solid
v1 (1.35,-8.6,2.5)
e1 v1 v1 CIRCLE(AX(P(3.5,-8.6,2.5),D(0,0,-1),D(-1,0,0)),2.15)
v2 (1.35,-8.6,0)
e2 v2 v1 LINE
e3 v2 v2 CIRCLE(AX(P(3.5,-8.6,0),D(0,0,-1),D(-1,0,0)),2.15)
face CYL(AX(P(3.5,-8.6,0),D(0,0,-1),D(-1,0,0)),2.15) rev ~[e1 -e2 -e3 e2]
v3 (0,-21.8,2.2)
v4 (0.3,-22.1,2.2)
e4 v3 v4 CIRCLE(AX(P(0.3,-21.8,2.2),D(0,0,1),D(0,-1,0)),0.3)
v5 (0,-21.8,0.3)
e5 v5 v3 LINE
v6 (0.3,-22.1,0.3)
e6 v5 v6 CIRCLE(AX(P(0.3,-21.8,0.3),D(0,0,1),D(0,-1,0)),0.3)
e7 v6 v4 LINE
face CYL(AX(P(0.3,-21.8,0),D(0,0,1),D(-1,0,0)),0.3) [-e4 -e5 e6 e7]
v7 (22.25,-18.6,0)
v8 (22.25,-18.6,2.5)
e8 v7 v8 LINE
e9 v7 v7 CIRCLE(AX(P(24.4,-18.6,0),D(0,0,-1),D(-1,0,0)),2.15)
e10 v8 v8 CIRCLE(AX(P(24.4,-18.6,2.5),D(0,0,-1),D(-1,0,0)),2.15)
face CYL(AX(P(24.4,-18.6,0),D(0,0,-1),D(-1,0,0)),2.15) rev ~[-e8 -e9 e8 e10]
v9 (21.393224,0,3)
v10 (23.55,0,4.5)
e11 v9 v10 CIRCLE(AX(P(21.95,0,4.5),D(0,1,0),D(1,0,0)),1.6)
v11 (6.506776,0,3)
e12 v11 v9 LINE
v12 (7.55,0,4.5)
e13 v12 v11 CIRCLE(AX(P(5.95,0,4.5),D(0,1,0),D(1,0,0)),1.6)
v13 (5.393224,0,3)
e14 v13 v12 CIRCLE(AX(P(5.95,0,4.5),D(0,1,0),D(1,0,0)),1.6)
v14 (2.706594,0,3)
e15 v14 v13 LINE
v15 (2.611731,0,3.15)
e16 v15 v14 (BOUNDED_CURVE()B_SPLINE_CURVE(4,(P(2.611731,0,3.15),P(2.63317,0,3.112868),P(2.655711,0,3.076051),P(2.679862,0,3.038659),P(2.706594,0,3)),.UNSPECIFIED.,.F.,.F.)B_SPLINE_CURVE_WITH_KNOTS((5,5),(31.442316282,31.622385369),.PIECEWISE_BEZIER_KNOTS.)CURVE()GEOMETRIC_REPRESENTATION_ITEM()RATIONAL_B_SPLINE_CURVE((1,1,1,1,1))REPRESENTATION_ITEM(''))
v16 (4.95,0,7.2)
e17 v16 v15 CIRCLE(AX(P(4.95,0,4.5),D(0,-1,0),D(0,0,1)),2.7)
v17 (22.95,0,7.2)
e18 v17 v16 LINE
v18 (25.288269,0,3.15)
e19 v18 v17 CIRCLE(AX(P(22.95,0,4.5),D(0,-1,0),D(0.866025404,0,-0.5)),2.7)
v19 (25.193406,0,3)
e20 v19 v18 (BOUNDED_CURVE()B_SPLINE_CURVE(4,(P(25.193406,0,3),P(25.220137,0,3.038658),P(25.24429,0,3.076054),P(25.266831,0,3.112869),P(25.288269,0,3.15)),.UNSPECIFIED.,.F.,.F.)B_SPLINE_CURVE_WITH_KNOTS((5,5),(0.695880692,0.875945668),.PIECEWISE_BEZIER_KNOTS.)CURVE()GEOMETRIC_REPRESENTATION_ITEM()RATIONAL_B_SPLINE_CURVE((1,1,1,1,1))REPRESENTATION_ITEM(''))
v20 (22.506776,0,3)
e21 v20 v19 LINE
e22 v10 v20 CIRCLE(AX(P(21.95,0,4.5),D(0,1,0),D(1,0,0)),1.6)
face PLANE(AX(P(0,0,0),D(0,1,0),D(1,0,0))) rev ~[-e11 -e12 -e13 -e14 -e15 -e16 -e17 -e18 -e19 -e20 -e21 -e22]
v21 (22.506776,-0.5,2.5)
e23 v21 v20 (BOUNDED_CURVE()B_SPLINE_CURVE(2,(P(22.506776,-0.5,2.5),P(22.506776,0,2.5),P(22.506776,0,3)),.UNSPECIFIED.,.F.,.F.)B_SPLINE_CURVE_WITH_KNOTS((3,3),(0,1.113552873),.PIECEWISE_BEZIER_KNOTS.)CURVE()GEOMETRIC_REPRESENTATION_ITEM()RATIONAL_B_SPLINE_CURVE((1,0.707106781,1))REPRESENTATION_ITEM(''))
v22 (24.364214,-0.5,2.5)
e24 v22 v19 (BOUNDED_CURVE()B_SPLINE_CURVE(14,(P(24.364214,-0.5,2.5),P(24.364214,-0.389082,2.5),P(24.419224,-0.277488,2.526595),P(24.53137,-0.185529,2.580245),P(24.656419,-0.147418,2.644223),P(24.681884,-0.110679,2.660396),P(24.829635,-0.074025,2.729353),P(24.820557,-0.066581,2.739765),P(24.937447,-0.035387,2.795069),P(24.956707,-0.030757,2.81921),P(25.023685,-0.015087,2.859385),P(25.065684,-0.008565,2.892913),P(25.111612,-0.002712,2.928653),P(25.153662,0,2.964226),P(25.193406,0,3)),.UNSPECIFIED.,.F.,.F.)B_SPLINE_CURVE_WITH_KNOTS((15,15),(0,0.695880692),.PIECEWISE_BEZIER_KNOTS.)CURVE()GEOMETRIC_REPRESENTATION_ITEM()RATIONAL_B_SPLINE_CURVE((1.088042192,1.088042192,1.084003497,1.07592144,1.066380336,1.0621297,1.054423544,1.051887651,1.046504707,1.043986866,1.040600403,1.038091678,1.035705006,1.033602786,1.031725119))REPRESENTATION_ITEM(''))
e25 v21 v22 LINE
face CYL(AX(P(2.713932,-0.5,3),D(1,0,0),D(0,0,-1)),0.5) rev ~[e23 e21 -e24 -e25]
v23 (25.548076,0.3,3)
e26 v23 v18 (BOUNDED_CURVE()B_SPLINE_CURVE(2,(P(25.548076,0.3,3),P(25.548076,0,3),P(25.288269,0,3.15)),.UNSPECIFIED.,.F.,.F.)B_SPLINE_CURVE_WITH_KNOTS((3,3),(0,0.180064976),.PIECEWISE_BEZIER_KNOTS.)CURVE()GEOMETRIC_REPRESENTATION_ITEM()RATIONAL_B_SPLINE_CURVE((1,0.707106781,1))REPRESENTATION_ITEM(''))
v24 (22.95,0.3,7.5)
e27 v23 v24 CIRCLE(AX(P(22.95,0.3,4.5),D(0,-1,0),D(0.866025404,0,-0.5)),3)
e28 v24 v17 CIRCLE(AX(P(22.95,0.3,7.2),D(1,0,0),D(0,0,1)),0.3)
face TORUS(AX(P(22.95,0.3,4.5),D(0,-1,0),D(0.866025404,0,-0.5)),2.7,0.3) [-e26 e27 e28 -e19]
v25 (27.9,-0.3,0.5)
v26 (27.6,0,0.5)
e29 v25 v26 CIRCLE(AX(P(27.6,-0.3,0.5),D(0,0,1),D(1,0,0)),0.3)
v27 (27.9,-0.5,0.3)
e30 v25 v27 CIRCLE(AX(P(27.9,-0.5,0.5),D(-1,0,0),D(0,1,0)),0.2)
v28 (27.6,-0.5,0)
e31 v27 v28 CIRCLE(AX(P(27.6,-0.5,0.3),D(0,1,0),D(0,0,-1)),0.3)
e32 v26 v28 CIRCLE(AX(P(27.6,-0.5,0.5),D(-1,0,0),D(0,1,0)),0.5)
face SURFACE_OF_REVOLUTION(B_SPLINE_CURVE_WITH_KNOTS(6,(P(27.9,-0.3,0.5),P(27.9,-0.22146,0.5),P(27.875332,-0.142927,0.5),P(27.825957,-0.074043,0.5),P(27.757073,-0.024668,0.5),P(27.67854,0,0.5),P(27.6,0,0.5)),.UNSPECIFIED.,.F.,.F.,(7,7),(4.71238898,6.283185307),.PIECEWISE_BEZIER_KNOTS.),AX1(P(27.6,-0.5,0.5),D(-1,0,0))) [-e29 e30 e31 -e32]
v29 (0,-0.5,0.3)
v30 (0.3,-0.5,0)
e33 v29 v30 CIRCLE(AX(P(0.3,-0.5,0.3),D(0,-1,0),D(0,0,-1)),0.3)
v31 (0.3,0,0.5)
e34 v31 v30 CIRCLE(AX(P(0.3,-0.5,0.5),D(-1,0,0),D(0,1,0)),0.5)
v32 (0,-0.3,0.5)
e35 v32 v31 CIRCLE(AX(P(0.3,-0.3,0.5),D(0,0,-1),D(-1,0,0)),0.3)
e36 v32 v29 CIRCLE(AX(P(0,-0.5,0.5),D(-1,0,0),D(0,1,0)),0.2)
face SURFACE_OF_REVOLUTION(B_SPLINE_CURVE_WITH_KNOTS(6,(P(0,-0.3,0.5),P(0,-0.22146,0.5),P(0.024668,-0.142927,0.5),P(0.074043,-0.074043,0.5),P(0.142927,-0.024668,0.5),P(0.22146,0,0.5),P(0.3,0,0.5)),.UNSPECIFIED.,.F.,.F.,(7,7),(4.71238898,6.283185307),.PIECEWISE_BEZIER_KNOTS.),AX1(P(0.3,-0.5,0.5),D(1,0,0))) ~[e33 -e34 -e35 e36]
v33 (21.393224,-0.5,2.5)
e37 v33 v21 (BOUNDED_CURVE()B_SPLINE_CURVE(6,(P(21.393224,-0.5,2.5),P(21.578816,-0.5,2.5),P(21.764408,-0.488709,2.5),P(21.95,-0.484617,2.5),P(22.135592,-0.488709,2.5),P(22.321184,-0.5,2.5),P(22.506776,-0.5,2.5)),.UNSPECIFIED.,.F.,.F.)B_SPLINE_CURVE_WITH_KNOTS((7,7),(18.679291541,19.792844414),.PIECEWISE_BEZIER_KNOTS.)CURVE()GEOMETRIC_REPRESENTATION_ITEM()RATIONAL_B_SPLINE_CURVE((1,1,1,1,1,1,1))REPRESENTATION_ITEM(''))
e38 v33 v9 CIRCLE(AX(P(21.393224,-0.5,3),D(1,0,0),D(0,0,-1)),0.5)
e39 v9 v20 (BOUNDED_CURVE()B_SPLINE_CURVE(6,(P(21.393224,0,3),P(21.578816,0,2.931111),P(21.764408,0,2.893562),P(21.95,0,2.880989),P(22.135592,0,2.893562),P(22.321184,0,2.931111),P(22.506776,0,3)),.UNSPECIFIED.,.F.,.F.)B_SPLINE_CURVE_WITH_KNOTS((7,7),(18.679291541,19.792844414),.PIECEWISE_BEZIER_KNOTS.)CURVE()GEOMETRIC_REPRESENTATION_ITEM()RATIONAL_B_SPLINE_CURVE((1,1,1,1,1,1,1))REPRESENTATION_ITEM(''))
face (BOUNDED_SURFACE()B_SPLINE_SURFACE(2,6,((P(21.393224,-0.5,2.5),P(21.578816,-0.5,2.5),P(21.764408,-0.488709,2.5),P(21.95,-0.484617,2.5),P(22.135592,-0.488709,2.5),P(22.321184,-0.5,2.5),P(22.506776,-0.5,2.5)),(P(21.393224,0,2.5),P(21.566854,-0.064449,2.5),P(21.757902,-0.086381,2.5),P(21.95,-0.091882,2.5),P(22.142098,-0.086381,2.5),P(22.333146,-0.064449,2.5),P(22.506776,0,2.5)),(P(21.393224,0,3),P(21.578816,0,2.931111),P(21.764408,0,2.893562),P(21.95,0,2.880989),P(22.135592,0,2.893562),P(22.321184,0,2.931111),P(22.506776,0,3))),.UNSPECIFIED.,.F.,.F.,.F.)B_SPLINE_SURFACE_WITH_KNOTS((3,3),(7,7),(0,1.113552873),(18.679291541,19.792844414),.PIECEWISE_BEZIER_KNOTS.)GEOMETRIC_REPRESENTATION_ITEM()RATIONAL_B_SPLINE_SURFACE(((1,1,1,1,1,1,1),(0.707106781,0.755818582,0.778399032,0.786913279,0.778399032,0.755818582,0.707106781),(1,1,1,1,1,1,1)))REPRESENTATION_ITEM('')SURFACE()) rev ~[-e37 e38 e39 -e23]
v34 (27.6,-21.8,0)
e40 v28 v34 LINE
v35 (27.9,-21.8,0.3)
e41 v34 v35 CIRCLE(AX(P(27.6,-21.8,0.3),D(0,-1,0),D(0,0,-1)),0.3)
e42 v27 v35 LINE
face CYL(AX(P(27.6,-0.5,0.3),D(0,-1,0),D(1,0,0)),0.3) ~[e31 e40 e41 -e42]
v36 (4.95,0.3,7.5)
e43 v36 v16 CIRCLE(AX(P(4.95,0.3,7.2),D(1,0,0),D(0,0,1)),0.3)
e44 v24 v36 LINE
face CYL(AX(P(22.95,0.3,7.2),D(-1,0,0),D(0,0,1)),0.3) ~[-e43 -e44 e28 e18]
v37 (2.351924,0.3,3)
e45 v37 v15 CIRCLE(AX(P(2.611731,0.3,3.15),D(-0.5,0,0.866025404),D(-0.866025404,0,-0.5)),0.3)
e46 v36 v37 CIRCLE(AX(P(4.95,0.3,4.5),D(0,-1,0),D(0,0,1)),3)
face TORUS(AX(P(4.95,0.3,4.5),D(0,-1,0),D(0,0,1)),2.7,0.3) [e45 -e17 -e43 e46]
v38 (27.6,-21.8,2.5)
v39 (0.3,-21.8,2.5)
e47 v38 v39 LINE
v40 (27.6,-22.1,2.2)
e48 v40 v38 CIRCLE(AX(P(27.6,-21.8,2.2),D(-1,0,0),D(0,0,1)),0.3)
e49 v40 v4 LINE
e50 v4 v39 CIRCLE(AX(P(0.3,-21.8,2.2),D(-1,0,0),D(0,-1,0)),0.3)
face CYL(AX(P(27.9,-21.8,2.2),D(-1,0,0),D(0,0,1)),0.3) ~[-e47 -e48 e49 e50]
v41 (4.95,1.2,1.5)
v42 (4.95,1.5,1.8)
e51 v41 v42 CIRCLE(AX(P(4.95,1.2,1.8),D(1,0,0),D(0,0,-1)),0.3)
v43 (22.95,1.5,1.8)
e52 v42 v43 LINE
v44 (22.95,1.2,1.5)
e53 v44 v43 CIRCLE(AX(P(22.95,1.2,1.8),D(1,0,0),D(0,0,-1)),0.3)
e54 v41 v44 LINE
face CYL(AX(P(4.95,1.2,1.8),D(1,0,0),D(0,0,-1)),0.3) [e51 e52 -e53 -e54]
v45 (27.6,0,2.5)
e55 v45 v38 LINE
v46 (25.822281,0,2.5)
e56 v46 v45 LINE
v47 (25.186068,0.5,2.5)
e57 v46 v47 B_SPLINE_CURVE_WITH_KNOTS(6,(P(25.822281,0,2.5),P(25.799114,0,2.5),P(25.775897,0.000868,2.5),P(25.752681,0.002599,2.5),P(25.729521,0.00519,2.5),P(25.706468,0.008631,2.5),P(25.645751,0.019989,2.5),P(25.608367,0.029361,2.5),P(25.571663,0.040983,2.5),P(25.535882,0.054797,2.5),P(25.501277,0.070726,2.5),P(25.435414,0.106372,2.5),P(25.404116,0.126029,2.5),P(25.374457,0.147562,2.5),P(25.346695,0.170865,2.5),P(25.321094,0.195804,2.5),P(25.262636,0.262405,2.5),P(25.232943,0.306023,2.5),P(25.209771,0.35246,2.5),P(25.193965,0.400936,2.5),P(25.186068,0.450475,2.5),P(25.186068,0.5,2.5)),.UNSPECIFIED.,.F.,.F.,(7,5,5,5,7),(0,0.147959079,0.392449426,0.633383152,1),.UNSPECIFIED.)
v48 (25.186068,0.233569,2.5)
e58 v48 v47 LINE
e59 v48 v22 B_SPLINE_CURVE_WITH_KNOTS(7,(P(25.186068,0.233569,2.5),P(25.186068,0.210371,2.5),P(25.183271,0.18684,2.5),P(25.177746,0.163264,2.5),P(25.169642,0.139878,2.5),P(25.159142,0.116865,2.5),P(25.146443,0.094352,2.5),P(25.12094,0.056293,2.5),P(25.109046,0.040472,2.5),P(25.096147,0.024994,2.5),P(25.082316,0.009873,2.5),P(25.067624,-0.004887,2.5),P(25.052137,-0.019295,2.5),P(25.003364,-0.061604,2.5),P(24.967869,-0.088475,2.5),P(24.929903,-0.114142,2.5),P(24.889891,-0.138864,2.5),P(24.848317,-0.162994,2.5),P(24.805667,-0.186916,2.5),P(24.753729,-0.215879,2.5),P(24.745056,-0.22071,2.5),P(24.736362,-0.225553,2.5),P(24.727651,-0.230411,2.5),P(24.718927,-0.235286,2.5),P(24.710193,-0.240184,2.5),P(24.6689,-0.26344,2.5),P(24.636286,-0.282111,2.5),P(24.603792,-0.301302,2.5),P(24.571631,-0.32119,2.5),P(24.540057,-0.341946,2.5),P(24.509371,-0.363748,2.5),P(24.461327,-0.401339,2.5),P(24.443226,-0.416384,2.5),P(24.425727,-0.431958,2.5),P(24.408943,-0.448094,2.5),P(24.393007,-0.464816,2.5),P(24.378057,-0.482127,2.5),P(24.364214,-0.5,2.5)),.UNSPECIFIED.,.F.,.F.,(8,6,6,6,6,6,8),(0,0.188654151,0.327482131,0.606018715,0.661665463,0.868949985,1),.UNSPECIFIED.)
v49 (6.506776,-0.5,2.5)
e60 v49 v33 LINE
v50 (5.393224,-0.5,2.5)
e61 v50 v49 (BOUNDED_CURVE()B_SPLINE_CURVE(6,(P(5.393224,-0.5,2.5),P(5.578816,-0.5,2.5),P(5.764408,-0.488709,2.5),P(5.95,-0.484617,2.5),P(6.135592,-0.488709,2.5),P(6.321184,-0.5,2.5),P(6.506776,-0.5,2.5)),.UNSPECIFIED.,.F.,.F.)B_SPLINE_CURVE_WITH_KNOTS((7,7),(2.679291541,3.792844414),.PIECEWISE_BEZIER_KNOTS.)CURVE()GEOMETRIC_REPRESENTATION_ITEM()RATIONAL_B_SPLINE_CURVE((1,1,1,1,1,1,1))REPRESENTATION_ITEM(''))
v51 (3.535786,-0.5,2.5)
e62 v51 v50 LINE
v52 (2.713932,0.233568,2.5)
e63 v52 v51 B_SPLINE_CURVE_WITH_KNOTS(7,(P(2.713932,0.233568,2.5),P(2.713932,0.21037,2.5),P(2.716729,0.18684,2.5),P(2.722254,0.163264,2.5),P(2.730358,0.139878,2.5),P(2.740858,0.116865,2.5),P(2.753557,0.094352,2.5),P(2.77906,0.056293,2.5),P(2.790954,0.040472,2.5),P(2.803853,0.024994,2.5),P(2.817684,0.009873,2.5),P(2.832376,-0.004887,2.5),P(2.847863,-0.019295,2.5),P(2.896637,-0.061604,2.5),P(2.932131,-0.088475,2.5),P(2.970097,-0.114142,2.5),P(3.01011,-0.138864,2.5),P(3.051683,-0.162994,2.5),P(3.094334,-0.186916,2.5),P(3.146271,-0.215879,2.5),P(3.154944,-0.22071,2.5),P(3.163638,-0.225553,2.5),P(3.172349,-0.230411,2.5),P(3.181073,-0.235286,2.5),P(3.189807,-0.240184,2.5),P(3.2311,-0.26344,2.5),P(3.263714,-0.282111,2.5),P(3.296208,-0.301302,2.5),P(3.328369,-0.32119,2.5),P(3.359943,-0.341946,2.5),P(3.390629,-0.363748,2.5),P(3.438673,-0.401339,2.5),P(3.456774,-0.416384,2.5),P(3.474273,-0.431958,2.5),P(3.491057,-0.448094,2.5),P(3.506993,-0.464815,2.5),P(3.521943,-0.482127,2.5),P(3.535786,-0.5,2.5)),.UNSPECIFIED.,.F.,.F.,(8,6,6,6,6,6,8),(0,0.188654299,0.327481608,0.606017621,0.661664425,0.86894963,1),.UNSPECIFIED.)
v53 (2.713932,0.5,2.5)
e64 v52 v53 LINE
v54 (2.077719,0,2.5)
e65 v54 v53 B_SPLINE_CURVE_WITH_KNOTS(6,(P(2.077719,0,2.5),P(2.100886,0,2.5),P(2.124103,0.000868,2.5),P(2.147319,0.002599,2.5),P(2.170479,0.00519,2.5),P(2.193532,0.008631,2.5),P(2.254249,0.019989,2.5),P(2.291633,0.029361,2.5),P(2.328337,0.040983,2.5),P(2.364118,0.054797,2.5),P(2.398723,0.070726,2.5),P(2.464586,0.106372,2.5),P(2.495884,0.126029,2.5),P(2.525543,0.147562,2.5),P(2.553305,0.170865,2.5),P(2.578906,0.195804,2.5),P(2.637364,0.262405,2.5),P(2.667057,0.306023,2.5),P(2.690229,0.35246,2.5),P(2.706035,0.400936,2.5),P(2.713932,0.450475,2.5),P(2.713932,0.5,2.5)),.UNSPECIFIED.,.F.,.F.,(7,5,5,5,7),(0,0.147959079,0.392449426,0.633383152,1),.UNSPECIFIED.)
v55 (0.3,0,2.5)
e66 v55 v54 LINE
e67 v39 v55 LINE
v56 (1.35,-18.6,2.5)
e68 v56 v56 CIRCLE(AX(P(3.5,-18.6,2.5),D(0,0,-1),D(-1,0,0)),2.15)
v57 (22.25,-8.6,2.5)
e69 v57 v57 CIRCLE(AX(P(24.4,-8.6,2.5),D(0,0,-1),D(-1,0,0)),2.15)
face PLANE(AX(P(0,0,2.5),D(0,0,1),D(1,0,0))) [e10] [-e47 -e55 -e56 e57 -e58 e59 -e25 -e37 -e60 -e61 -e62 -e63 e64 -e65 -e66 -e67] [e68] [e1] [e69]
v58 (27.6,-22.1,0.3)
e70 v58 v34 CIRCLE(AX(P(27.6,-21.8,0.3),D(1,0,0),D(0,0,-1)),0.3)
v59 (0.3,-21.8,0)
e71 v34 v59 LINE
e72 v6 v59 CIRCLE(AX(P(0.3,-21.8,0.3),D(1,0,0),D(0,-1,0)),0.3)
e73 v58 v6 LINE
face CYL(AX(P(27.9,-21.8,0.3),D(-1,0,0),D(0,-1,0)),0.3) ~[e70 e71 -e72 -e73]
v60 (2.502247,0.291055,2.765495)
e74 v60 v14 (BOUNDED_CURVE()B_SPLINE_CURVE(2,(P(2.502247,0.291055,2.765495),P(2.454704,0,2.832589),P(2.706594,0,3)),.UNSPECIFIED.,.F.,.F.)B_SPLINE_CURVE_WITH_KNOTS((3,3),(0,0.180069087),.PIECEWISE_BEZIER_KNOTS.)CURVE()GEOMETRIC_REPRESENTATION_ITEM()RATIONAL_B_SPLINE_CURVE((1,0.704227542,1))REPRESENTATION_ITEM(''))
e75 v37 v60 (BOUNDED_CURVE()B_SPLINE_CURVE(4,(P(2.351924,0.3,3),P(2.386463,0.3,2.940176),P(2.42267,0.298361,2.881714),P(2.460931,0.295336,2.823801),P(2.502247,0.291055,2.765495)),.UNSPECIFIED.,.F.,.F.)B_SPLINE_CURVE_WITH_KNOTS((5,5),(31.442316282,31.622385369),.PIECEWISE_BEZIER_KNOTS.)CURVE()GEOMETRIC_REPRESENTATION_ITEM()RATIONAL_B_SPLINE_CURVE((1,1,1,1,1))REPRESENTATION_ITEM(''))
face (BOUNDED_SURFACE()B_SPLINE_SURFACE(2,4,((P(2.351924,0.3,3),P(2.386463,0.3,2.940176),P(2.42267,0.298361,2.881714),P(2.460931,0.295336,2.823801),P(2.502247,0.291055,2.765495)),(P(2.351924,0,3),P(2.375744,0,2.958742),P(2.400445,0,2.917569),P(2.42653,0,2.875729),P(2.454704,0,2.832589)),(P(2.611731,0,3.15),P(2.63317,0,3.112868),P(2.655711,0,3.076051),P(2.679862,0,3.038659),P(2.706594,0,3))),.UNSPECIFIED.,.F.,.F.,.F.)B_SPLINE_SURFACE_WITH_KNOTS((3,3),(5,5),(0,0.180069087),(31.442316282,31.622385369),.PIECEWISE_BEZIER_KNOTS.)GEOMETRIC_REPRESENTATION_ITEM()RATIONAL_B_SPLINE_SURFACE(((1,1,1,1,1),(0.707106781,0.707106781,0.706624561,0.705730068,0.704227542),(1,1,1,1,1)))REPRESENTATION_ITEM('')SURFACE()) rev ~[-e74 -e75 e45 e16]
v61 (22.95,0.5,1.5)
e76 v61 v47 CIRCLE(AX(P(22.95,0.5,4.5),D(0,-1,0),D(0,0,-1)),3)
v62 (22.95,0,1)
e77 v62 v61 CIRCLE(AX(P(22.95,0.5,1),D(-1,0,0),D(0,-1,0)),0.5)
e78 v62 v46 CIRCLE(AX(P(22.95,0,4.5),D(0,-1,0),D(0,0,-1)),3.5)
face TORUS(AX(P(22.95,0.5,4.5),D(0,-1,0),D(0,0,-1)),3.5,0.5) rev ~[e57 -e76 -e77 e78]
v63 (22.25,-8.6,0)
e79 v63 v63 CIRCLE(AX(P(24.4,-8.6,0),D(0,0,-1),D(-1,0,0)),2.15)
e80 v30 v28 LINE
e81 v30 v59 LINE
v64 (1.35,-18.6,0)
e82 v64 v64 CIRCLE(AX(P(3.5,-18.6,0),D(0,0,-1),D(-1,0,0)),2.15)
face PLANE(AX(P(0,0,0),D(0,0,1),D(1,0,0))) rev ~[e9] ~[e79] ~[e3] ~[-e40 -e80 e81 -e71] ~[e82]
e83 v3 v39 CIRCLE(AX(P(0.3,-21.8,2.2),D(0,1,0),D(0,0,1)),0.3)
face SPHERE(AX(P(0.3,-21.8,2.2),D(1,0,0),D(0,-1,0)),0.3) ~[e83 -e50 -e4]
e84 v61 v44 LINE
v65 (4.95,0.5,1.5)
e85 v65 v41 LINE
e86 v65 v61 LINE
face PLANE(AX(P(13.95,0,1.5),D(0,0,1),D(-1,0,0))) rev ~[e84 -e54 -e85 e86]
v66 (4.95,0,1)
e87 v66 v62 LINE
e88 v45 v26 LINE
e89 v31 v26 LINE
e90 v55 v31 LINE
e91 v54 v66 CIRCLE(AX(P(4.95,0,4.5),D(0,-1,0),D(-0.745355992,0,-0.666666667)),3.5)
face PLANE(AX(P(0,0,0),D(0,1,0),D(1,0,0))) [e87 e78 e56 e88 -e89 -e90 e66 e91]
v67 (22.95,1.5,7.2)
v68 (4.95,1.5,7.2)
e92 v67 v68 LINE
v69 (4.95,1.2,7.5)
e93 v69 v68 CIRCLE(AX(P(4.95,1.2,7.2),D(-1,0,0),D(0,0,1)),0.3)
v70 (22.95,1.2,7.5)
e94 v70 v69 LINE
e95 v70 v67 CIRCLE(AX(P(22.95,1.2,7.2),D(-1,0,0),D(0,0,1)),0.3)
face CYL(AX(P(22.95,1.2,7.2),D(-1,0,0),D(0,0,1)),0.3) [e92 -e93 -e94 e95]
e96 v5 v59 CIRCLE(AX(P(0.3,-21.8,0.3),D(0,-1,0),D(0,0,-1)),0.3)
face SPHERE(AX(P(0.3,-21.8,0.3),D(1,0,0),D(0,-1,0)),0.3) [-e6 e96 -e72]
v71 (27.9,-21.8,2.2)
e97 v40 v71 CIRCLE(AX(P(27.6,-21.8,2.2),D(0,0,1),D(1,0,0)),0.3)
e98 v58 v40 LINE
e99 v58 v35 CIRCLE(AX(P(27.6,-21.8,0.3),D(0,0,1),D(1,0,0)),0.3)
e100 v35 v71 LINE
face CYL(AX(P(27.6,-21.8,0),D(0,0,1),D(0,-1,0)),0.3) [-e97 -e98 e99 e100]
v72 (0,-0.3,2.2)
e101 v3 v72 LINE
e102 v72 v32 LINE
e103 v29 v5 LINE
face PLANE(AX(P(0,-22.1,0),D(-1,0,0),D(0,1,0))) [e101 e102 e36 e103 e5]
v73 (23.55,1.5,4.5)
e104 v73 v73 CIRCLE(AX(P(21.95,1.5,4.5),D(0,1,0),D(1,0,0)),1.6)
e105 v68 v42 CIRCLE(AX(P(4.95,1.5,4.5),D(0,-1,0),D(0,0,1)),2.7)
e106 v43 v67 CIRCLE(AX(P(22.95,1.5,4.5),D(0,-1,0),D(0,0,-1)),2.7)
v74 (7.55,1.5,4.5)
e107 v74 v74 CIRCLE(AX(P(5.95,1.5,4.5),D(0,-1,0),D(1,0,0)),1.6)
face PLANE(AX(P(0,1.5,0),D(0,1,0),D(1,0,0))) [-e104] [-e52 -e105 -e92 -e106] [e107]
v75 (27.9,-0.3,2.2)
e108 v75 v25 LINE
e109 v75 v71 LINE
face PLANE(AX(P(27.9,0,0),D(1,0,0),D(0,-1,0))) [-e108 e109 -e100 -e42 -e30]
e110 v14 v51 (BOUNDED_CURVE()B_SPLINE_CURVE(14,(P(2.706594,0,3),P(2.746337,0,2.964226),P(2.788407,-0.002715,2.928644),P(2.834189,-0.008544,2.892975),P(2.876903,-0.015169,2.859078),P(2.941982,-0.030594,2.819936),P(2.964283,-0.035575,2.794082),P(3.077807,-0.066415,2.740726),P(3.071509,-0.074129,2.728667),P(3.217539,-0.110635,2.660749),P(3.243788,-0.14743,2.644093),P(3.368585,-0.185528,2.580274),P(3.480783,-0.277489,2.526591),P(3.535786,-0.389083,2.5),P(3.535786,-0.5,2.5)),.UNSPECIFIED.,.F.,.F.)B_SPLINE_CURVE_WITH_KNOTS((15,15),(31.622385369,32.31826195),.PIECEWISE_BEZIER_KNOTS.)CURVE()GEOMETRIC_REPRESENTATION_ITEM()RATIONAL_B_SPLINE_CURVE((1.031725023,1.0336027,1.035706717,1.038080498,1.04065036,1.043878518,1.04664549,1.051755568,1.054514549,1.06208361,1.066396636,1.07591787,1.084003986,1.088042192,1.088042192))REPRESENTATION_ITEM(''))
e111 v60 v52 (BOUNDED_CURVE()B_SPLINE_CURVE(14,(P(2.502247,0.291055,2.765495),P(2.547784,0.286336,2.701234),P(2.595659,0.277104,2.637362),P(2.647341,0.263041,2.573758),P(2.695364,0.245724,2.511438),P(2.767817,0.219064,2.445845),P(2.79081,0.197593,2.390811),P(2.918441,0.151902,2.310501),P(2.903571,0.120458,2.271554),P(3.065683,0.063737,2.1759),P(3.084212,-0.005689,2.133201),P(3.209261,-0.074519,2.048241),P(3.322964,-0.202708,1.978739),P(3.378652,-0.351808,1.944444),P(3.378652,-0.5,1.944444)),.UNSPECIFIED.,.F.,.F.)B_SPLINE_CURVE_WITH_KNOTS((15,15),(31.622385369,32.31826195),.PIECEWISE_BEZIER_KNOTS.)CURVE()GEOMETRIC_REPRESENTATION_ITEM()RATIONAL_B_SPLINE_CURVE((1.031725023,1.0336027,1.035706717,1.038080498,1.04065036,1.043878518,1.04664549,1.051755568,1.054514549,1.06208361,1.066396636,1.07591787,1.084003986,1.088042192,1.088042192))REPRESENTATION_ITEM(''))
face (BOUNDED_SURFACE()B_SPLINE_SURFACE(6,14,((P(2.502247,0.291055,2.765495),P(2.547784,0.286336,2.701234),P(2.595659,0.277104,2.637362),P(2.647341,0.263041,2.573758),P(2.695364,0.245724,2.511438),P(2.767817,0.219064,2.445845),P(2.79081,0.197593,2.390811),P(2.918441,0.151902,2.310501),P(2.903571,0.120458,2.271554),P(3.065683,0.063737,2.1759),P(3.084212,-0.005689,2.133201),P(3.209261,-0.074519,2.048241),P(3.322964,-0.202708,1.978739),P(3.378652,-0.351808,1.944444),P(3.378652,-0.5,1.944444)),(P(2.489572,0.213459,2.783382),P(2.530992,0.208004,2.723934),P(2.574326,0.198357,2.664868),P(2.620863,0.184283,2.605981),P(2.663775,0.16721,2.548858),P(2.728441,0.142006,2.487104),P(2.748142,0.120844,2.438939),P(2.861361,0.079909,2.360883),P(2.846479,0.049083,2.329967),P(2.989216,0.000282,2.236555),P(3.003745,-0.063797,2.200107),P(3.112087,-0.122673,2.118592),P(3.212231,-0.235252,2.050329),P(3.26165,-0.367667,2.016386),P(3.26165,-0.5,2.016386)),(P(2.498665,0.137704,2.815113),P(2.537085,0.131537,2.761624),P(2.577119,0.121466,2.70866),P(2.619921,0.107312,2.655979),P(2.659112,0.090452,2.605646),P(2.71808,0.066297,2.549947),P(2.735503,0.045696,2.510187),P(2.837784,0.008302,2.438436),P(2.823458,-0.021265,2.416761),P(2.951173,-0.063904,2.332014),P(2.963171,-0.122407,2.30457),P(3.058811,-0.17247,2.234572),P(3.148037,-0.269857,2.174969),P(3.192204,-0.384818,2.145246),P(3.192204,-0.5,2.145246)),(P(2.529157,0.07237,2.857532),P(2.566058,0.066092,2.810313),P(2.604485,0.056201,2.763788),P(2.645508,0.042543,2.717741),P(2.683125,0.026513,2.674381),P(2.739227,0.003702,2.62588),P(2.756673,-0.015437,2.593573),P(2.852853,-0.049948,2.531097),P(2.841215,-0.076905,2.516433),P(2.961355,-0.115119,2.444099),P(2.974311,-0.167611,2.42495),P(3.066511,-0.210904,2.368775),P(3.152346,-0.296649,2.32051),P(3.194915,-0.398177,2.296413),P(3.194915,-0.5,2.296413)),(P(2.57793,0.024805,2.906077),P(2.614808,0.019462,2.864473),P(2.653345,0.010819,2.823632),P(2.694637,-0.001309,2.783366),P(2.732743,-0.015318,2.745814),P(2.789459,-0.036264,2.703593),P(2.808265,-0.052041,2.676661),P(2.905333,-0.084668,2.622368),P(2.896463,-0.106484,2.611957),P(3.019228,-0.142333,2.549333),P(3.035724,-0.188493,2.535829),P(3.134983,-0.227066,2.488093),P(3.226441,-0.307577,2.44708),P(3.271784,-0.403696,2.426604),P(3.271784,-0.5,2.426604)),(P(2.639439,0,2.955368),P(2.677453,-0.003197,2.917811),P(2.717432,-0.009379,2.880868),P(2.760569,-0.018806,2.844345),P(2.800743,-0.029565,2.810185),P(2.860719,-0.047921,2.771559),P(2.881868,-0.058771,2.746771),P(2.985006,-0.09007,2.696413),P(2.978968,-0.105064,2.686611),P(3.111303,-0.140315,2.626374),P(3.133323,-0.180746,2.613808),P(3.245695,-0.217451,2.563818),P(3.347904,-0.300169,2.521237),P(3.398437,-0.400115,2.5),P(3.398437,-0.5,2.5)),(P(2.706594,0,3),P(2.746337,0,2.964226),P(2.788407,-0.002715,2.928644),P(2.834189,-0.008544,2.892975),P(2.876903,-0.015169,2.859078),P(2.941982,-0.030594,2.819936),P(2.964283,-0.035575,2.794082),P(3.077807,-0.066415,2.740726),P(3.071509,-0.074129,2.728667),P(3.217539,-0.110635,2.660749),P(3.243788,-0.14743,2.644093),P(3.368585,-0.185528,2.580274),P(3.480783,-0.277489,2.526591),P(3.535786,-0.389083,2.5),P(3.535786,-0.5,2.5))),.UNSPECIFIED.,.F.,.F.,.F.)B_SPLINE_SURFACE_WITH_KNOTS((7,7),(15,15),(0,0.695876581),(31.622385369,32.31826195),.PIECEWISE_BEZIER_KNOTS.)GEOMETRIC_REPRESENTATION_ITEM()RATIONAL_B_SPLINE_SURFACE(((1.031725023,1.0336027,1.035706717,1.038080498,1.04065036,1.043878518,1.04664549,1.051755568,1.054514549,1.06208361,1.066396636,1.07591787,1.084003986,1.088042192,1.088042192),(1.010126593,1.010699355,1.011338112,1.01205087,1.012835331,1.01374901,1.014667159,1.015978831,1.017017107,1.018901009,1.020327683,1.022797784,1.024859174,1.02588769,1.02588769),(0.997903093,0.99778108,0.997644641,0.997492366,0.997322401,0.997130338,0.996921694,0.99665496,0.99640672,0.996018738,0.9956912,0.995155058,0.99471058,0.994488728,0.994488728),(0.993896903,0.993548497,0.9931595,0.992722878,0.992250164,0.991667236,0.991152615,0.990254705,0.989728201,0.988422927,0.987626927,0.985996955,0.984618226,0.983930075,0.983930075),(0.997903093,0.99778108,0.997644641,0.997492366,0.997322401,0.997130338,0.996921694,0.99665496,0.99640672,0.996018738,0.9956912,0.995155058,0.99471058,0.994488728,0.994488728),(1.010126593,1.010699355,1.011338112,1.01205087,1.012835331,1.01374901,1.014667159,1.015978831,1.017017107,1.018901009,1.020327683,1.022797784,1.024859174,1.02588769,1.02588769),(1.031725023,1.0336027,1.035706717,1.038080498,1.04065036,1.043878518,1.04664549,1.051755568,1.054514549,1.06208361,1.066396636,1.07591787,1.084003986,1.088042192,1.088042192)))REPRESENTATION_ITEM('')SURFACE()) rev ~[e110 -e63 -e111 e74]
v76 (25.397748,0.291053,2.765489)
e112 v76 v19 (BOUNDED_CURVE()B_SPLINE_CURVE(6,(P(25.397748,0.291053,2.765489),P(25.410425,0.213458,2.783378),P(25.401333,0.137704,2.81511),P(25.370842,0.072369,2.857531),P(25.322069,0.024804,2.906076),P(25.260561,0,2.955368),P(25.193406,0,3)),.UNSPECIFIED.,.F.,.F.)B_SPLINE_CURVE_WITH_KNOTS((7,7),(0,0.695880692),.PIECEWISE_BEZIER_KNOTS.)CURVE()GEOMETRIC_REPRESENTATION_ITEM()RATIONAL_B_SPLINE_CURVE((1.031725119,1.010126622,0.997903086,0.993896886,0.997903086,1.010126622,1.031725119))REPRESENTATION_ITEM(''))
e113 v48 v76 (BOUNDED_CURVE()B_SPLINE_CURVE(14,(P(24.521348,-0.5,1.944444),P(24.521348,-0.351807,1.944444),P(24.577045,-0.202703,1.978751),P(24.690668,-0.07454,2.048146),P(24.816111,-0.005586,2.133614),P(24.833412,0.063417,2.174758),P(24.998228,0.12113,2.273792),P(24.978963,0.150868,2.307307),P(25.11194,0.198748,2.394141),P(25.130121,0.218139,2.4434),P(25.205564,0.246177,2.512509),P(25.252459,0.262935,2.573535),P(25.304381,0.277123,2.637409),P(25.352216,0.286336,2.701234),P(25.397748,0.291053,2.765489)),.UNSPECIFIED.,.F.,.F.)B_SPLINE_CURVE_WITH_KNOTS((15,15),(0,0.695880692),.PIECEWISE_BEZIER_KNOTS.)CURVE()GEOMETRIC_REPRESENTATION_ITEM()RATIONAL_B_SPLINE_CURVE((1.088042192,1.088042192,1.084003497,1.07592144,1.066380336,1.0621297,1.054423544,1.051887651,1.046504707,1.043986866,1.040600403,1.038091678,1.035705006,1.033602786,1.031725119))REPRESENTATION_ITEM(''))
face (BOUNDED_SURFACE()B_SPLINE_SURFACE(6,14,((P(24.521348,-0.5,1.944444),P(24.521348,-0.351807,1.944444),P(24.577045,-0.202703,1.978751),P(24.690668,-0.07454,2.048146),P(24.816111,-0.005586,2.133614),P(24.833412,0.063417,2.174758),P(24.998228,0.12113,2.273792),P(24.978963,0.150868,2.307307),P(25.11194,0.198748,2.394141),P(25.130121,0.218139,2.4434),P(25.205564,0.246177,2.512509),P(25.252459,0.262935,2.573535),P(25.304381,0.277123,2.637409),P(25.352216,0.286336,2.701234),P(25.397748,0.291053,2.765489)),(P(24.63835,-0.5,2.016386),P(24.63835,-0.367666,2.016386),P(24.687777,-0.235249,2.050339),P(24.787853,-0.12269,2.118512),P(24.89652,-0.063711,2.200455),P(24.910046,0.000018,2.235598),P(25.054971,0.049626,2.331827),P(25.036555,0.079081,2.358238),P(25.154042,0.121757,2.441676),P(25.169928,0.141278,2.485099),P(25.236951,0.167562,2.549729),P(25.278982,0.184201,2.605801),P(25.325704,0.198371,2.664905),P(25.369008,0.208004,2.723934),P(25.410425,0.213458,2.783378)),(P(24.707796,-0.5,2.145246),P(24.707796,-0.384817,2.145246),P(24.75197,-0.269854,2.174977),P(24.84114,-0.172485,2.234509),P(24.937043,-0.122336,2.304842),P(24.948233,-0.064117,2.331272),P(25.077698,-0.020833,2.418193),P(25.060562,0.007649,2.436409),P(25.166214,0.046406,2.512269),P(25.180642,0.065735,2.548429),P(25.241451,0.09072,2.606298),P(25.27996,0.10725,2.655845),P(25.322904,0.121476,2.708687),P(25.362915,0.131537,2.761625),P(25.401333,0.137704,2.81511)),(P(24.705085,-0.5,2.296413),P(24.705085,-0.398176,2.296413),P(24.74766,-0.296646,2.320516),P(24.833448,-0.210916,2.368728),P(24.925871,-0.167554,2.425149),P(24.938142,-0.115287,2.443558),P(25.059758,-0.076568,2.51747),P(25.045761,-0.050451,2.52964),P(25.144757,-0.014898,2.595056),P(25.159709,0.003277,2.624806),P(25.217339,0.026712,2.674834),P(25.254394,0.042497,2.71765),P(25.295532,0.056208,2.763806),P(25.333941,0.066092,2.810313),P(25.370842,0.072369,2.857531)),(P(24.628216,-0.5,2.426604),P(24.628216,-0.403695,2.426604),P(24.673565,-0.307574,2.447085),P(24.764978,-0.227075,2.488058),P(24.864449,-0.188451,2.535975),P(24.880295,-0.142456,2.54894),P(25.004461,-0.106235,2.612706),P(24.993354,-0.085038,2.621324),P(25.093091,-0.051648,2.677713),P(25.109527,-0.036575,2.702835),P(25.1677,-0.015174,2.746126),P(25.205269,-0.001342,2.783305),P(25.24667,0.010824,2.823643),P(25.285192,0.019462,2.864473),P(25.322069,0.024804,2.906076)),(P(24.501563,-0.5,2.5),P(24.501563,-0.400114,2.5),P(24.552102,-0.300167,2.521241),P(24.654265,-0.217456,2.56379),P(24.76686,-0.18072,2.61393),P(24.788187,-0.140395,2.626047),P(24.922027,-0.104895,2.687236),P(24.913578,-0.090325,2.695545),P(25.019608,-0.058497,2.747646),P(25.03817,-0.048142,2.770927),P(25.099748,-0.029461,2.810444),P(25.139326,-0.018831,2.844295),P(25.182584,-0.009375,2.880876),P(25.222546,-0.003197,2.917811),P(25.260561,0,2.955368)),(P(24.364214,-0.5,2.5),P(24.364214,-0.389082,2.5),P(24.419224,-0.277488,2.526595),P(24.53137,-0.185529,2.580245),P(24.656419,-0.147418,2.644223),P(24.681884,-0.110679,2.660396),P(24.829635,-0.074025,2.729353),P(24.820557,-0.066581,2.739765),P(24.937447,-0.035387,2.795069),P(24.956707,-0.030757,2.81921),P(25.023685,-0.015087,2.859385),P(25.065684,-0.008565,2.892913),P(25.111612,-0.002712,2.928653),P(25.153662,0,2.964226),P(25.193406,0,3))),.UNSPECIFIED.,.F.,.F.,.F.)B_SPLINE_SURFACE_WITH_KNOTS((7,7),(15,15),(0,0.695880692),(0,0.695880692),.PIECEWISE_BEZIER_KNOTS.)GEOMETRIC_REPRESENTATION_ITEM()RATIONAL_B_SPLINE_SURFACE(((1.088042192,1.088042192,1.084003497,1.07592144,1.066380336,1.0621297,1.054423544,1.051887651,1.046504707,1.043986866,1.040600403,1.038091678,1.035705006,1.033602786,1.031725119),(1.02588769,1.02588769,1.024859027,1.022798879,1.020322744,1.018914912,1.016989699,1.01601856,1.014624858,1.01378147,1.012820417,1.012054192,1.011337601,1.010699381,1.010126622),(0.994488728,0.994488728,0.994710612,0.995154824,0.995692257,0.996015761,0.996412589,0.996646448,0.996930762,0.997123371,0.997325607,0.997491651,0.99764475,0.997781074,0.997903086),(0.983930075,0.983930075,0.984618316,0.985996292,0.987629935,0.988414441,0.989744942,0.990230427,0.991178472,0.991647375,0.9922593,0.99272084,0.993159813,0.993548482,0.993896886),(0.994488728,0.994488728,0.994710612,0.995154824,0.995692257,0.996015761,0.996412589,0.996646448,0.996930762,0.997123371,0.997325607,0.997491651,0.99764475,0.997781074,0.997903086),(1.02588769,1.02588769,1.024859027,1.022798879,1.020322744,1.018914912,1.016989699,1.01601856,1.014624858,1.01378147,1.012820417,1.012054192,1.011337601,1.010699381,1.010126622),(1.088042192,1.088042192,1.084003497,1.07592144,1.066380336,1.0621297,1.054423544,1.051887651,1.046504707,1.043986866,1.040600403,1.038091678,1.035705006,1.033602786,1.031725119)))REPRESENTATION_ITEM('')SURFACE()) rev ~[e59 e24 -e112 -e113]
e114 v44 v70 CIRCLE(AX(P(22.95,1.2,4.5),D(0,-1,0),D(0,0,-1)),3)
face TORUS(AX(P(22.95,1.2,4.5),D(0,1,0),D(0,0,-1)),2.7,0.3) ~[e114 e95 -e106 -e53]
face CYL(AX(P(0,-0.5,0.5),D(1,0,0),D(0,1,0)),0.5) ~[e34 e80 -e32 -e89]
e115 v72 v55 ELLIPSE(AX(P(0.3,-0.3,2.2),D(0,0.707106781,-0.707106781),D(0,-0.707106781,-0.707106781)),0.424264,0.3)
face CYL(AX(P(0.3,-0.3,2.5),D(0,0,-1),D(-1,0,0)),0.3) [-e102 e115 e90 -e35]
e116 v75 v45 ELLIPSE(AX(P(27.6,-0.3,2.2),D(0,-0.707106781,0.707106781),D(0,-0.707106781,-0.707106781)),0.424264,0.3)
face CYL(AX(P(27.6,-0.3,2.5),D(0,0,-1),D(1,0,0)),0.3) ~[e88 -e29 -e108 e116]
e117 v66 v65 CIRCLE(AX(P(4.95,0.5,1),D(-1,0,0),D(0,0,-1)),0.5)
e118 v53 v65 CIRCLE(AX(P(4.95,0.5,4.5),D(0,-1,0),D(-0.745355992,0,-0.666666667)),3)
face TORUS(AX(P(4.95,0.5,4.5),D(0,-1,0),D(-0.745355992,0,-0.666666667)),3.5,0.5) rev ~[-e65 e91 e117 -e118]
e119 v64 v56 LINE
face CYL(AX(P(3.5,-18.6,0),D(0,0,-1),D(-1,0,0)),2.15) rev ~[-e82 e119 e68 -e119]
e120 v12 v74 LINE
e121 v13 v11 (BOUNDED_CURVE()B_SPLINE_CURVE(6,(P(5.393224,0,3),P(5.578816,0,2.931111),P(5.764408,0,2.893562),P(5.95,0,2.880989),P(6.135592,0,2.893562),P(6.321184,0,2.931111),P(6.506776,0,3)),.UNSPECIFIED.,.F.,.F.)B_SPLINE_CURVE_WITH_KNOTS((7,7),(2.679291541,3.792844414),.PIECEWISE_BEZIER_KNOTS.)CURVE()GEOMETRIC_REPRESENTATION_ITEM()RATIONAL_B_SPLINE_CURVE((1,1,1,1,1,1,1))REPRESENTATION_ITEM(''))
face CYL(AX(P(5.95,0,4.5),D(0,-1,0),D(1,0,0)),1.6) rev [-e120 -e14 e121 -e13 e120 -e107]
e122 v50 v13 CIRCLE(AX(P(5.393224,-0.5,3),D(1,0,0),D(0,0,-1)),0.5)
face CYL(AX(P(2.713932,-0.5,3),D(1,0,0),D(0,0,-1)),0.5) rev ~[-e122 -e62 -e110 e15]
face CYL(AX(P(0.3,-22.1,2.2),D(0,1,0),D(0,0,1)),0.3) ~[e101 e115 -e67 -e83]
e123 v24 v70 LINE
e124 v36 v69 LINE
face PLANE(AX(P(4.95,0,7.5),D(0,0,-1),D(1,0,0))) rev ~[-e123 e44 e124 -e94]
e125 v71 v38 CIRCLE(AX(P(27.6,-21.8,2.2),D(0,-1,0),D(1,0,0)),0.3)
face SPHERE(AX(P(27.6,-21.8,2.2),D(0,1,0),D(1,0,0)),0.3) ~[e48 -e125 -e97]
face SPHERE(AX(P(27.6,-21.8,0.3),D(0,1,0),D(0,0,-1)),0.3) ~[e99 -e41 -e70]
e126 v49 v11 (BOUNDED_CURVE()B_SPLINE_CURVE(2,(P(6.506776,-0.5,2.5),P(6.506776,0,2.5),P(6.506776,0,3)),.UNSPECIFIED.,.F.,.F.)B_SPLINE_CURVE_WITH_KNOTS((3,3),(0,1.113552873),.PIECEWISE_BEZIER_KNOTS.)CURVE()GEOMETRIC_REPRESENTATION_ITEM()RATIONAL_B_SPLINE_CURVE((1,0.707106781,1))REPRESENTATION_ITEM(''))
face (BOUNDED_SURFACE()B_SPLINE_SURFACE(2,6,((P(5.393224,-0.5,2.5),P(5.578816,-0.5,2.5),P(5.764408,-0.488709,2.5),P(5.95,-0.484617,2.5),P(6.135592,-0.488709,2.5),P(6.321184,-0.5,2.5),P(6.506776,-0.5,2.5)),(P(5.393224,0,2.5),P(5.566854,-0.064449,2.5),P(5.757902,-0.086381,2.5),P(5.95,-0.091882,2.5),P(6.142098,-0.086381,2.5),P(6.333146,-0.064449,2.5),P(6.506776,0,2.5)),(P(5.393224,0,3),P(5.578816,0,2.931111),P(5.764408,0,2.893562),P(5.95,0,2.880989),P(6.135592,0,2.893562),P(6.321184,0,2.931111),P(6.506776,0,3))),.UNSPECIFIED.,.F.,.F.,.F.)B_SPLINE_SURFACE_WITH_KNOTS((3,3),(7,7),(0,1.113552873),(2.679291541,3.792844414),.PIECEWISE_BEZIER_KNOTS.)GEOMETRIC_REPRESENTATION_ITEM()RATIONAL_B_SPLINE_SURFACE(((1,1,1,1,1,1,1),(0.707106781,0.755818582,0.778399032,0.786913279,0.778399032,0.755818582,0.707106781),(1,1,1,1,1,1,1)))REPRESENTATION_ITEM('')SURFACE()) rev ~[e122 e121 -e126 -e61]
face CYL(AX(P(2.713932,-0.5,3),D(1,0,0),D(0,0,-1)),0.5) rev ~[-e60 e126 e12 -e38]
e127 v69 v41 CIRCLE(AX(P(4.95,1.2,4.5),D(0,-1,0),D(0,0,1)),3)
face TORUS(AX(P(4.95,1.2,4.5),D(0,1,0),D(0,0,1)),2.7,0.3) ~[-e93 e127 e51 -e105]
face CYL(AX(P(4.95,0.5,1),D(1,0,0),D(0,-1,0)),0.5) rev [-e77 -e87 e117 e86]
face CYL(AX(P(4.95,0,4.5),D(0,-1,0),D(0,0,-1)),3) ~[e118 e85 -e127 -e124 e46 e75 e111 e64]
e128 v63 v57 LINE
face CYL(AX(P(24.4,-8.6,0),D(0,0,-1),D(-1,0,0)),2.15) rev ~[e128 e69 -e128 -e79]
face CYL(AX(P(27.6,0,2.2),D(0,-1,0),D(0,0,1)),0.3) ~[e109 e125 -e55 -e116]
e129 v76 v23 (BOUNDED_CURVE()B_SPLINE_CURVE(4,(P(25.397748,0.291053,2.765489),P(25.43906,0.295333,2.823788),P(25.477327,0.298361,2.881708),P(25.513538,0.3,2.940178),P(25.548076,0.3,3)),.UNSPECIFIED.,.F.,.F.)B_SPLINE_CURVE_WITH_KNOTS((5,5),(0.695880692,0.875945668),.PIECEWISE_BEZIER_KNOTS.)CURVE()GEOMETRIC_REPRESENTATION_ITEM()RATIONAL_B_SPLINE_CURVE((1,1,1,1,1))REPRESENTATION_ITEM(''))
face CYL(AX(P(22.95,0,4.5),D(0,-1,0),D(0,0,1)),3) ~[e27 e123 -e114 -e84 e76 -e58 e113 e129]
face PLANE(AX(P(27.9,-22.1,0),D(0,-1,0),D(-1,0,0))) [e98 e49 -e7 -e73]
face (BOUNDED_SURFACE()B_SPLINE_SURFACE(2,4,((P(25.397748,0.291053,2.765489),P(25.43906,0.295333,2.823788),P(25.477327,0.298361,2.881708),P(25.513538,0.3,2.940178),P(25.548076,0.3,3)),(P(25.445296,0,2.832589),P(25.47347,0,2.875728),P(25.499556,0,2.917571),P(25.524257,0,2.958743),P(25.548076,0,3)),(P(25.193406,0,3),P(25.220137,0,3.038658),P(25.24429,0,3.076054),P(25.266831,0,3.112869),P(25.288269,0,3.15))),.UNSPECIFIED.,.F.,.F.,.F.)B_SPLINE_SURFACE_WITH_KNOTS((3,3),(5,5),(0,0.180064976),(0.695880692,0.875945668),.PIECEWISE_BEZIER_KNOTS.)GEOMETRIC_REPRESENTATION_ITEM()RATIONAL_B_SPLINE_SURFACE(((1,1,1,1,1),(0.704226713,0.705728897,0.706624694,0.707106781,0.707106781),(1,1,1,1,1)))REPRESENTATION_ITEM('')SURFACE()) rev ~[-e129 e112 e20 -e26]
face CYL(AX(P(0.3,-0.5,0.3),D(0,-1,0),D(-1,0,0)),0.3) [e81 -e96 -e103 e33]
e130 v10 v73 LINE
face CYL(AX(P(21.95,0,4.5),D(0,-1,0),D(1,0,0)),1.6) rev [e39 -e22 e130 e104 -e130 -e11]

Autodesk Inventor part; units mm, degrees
ref_plane "YZ Plane" through (0, 0, 0) normal (1, 0, 0) x (0, 1, 0)
ref_plane "XZ Plane" through (0, 0, 0) normal (0, 1, 0) x (-1, 0, 0)
ref_plane "XY Plane" through (0, 0, 0) normal (0, 0, 1) x (1, 0, 0)
sketch "Sketch1" plane through (0, 0, 0) normal (0, 0, 1) x (1, 0, 0)
  line L0 (0, 0) -> (27.9, 0)
  line L1 (27.9, 0) -> (27.9, -22.1)
  line L2 (27.9, -22.1) -> (0, -22.1)
  line L3 (0, -22.1) -> (0, 0)
  dimension "d0" = 27.9
  dimension "d1" = 22.1
extrude "Extrusion1" add sketch "Sketch1" along normal blind 2.5
sketch "Sketch2" plane through (0, 0, 0) normal (0, 1, 0) x (1, 0, 0)
  line L0 (1.95, -4.5) -> (25.95, -4.5) construction
  line L1 (4.95, -7.5) -> (22.95, -7.5)
  line L2 (22.95, -1.5) -> (4.95, -1.5)
  arc A0 (4.95, -1.5) -> (4.95, -7.5) centre (4.95, -4.5) ccw
  arc A1 (22.95, -7.5) -> (22.95, -1.5) centre (22.95, -4.5) ccw
  line L3 (27.9, 0) -> (27.9, -2.5) projected
  line L4 (0, 0) -> (0, -2.5) projected
  line L5 (27.9, -2.5) -> (0, -2.5) projected
  circle A2 centre (5.95, -4.5) radius 1.6
  circle A3 centre (21.95, -4.5) radius 1.6
  line L6 (4.752, -3.4394) -> (4.752, -5.5606)
  line L7 (0, 0) -> (27.9, 0) projected
  line L8 (13.95, 0) -> (13.95, -7.0714)
  point P0 (13.95, -4.5)
  dimension "d4" = 6
  dimension "d5" = 24
  dimension "d8" = 1
  dimension "d9" = 3.2
  dimension "d10" = 3.2
  dimension "d11" = 16
  dimension "d12" = 8
extrude "Extrusion2" add sketch "Sketch2" along normal blind 1.5 contours A0 L5 A1 L1 | A0 L2 L8 L5 | L5 L8 L2 A1
fillet "Fillet1" radius 0.3 4 edges at (1.95, 1.5, 4.5) (13.95, 1.5, 7.5) (25.95, 1.5, 4.5) (13.95, 1.5, 1.5)
fillet "Fillet2" radius 0.5 3 edges at (13.95, 0, 1.5) (13.95, 0, 0) (13.95, 0, 2.5)
fillet "Fillet3" radius 0.3 3 edges at (25.5481, 0, 6) (2.3519, 0, 6) (13.95, 0, 7.5)
sketch "Sketch3" plane through (0, 0, 0) normal (0, 0, -1) x (-1, 0, 0)
  circle A0 centre (-24.4, -18.6) radius 2.15
  line L0 (-27.9, -22.1) -> (-27.9, -0.5) projected
  line L1 (0, -22.1) -> (-27.9, -22.1) projected
  line L2 (-13.95, -22.1) -> (-13.95, -20.8715)
  circle A1 centre (-24.4, -8.6) radius 2.15
  line L3 (0, 0) -> (-27.9, 0) projected
  circle A2 centre (-3.5, -18.6) radius 2.15
  circle A3 centre (-3.5, -8.6) radius 2.15
  point P0 (-27.9, -11.3)
  point P1 (0, -11.3)
  dimension "d19" = 4.3
  dimension "d23" = 3.5
  dimension "d28" = 8.6
  dimension "d29" = 3.5
  dimension "d30" = 4.3
  dimension "d31" = 3.5
fillet "Fillet4" radius 0.3 12 edges at (27.9, -0.1464, 0.1464) (27.9, 0, 1.5) (27.9, -11.3, 0) (27.9, -11.05, 2.5) (13.95, -22.1, 0) (27.9, -22.1, 1.25) (13.95, -22.1, 2.5) (0, -22.1, 1.25) (0, -0.1464, 0.1464) (0, 0, 1.5) (0, -11.3, 0) (0, -11.05, 2.5)
extrude "Extrusion3" cut sketch "Sketch3" against normal blind 5
properties part number "distance_sensor_hold"
